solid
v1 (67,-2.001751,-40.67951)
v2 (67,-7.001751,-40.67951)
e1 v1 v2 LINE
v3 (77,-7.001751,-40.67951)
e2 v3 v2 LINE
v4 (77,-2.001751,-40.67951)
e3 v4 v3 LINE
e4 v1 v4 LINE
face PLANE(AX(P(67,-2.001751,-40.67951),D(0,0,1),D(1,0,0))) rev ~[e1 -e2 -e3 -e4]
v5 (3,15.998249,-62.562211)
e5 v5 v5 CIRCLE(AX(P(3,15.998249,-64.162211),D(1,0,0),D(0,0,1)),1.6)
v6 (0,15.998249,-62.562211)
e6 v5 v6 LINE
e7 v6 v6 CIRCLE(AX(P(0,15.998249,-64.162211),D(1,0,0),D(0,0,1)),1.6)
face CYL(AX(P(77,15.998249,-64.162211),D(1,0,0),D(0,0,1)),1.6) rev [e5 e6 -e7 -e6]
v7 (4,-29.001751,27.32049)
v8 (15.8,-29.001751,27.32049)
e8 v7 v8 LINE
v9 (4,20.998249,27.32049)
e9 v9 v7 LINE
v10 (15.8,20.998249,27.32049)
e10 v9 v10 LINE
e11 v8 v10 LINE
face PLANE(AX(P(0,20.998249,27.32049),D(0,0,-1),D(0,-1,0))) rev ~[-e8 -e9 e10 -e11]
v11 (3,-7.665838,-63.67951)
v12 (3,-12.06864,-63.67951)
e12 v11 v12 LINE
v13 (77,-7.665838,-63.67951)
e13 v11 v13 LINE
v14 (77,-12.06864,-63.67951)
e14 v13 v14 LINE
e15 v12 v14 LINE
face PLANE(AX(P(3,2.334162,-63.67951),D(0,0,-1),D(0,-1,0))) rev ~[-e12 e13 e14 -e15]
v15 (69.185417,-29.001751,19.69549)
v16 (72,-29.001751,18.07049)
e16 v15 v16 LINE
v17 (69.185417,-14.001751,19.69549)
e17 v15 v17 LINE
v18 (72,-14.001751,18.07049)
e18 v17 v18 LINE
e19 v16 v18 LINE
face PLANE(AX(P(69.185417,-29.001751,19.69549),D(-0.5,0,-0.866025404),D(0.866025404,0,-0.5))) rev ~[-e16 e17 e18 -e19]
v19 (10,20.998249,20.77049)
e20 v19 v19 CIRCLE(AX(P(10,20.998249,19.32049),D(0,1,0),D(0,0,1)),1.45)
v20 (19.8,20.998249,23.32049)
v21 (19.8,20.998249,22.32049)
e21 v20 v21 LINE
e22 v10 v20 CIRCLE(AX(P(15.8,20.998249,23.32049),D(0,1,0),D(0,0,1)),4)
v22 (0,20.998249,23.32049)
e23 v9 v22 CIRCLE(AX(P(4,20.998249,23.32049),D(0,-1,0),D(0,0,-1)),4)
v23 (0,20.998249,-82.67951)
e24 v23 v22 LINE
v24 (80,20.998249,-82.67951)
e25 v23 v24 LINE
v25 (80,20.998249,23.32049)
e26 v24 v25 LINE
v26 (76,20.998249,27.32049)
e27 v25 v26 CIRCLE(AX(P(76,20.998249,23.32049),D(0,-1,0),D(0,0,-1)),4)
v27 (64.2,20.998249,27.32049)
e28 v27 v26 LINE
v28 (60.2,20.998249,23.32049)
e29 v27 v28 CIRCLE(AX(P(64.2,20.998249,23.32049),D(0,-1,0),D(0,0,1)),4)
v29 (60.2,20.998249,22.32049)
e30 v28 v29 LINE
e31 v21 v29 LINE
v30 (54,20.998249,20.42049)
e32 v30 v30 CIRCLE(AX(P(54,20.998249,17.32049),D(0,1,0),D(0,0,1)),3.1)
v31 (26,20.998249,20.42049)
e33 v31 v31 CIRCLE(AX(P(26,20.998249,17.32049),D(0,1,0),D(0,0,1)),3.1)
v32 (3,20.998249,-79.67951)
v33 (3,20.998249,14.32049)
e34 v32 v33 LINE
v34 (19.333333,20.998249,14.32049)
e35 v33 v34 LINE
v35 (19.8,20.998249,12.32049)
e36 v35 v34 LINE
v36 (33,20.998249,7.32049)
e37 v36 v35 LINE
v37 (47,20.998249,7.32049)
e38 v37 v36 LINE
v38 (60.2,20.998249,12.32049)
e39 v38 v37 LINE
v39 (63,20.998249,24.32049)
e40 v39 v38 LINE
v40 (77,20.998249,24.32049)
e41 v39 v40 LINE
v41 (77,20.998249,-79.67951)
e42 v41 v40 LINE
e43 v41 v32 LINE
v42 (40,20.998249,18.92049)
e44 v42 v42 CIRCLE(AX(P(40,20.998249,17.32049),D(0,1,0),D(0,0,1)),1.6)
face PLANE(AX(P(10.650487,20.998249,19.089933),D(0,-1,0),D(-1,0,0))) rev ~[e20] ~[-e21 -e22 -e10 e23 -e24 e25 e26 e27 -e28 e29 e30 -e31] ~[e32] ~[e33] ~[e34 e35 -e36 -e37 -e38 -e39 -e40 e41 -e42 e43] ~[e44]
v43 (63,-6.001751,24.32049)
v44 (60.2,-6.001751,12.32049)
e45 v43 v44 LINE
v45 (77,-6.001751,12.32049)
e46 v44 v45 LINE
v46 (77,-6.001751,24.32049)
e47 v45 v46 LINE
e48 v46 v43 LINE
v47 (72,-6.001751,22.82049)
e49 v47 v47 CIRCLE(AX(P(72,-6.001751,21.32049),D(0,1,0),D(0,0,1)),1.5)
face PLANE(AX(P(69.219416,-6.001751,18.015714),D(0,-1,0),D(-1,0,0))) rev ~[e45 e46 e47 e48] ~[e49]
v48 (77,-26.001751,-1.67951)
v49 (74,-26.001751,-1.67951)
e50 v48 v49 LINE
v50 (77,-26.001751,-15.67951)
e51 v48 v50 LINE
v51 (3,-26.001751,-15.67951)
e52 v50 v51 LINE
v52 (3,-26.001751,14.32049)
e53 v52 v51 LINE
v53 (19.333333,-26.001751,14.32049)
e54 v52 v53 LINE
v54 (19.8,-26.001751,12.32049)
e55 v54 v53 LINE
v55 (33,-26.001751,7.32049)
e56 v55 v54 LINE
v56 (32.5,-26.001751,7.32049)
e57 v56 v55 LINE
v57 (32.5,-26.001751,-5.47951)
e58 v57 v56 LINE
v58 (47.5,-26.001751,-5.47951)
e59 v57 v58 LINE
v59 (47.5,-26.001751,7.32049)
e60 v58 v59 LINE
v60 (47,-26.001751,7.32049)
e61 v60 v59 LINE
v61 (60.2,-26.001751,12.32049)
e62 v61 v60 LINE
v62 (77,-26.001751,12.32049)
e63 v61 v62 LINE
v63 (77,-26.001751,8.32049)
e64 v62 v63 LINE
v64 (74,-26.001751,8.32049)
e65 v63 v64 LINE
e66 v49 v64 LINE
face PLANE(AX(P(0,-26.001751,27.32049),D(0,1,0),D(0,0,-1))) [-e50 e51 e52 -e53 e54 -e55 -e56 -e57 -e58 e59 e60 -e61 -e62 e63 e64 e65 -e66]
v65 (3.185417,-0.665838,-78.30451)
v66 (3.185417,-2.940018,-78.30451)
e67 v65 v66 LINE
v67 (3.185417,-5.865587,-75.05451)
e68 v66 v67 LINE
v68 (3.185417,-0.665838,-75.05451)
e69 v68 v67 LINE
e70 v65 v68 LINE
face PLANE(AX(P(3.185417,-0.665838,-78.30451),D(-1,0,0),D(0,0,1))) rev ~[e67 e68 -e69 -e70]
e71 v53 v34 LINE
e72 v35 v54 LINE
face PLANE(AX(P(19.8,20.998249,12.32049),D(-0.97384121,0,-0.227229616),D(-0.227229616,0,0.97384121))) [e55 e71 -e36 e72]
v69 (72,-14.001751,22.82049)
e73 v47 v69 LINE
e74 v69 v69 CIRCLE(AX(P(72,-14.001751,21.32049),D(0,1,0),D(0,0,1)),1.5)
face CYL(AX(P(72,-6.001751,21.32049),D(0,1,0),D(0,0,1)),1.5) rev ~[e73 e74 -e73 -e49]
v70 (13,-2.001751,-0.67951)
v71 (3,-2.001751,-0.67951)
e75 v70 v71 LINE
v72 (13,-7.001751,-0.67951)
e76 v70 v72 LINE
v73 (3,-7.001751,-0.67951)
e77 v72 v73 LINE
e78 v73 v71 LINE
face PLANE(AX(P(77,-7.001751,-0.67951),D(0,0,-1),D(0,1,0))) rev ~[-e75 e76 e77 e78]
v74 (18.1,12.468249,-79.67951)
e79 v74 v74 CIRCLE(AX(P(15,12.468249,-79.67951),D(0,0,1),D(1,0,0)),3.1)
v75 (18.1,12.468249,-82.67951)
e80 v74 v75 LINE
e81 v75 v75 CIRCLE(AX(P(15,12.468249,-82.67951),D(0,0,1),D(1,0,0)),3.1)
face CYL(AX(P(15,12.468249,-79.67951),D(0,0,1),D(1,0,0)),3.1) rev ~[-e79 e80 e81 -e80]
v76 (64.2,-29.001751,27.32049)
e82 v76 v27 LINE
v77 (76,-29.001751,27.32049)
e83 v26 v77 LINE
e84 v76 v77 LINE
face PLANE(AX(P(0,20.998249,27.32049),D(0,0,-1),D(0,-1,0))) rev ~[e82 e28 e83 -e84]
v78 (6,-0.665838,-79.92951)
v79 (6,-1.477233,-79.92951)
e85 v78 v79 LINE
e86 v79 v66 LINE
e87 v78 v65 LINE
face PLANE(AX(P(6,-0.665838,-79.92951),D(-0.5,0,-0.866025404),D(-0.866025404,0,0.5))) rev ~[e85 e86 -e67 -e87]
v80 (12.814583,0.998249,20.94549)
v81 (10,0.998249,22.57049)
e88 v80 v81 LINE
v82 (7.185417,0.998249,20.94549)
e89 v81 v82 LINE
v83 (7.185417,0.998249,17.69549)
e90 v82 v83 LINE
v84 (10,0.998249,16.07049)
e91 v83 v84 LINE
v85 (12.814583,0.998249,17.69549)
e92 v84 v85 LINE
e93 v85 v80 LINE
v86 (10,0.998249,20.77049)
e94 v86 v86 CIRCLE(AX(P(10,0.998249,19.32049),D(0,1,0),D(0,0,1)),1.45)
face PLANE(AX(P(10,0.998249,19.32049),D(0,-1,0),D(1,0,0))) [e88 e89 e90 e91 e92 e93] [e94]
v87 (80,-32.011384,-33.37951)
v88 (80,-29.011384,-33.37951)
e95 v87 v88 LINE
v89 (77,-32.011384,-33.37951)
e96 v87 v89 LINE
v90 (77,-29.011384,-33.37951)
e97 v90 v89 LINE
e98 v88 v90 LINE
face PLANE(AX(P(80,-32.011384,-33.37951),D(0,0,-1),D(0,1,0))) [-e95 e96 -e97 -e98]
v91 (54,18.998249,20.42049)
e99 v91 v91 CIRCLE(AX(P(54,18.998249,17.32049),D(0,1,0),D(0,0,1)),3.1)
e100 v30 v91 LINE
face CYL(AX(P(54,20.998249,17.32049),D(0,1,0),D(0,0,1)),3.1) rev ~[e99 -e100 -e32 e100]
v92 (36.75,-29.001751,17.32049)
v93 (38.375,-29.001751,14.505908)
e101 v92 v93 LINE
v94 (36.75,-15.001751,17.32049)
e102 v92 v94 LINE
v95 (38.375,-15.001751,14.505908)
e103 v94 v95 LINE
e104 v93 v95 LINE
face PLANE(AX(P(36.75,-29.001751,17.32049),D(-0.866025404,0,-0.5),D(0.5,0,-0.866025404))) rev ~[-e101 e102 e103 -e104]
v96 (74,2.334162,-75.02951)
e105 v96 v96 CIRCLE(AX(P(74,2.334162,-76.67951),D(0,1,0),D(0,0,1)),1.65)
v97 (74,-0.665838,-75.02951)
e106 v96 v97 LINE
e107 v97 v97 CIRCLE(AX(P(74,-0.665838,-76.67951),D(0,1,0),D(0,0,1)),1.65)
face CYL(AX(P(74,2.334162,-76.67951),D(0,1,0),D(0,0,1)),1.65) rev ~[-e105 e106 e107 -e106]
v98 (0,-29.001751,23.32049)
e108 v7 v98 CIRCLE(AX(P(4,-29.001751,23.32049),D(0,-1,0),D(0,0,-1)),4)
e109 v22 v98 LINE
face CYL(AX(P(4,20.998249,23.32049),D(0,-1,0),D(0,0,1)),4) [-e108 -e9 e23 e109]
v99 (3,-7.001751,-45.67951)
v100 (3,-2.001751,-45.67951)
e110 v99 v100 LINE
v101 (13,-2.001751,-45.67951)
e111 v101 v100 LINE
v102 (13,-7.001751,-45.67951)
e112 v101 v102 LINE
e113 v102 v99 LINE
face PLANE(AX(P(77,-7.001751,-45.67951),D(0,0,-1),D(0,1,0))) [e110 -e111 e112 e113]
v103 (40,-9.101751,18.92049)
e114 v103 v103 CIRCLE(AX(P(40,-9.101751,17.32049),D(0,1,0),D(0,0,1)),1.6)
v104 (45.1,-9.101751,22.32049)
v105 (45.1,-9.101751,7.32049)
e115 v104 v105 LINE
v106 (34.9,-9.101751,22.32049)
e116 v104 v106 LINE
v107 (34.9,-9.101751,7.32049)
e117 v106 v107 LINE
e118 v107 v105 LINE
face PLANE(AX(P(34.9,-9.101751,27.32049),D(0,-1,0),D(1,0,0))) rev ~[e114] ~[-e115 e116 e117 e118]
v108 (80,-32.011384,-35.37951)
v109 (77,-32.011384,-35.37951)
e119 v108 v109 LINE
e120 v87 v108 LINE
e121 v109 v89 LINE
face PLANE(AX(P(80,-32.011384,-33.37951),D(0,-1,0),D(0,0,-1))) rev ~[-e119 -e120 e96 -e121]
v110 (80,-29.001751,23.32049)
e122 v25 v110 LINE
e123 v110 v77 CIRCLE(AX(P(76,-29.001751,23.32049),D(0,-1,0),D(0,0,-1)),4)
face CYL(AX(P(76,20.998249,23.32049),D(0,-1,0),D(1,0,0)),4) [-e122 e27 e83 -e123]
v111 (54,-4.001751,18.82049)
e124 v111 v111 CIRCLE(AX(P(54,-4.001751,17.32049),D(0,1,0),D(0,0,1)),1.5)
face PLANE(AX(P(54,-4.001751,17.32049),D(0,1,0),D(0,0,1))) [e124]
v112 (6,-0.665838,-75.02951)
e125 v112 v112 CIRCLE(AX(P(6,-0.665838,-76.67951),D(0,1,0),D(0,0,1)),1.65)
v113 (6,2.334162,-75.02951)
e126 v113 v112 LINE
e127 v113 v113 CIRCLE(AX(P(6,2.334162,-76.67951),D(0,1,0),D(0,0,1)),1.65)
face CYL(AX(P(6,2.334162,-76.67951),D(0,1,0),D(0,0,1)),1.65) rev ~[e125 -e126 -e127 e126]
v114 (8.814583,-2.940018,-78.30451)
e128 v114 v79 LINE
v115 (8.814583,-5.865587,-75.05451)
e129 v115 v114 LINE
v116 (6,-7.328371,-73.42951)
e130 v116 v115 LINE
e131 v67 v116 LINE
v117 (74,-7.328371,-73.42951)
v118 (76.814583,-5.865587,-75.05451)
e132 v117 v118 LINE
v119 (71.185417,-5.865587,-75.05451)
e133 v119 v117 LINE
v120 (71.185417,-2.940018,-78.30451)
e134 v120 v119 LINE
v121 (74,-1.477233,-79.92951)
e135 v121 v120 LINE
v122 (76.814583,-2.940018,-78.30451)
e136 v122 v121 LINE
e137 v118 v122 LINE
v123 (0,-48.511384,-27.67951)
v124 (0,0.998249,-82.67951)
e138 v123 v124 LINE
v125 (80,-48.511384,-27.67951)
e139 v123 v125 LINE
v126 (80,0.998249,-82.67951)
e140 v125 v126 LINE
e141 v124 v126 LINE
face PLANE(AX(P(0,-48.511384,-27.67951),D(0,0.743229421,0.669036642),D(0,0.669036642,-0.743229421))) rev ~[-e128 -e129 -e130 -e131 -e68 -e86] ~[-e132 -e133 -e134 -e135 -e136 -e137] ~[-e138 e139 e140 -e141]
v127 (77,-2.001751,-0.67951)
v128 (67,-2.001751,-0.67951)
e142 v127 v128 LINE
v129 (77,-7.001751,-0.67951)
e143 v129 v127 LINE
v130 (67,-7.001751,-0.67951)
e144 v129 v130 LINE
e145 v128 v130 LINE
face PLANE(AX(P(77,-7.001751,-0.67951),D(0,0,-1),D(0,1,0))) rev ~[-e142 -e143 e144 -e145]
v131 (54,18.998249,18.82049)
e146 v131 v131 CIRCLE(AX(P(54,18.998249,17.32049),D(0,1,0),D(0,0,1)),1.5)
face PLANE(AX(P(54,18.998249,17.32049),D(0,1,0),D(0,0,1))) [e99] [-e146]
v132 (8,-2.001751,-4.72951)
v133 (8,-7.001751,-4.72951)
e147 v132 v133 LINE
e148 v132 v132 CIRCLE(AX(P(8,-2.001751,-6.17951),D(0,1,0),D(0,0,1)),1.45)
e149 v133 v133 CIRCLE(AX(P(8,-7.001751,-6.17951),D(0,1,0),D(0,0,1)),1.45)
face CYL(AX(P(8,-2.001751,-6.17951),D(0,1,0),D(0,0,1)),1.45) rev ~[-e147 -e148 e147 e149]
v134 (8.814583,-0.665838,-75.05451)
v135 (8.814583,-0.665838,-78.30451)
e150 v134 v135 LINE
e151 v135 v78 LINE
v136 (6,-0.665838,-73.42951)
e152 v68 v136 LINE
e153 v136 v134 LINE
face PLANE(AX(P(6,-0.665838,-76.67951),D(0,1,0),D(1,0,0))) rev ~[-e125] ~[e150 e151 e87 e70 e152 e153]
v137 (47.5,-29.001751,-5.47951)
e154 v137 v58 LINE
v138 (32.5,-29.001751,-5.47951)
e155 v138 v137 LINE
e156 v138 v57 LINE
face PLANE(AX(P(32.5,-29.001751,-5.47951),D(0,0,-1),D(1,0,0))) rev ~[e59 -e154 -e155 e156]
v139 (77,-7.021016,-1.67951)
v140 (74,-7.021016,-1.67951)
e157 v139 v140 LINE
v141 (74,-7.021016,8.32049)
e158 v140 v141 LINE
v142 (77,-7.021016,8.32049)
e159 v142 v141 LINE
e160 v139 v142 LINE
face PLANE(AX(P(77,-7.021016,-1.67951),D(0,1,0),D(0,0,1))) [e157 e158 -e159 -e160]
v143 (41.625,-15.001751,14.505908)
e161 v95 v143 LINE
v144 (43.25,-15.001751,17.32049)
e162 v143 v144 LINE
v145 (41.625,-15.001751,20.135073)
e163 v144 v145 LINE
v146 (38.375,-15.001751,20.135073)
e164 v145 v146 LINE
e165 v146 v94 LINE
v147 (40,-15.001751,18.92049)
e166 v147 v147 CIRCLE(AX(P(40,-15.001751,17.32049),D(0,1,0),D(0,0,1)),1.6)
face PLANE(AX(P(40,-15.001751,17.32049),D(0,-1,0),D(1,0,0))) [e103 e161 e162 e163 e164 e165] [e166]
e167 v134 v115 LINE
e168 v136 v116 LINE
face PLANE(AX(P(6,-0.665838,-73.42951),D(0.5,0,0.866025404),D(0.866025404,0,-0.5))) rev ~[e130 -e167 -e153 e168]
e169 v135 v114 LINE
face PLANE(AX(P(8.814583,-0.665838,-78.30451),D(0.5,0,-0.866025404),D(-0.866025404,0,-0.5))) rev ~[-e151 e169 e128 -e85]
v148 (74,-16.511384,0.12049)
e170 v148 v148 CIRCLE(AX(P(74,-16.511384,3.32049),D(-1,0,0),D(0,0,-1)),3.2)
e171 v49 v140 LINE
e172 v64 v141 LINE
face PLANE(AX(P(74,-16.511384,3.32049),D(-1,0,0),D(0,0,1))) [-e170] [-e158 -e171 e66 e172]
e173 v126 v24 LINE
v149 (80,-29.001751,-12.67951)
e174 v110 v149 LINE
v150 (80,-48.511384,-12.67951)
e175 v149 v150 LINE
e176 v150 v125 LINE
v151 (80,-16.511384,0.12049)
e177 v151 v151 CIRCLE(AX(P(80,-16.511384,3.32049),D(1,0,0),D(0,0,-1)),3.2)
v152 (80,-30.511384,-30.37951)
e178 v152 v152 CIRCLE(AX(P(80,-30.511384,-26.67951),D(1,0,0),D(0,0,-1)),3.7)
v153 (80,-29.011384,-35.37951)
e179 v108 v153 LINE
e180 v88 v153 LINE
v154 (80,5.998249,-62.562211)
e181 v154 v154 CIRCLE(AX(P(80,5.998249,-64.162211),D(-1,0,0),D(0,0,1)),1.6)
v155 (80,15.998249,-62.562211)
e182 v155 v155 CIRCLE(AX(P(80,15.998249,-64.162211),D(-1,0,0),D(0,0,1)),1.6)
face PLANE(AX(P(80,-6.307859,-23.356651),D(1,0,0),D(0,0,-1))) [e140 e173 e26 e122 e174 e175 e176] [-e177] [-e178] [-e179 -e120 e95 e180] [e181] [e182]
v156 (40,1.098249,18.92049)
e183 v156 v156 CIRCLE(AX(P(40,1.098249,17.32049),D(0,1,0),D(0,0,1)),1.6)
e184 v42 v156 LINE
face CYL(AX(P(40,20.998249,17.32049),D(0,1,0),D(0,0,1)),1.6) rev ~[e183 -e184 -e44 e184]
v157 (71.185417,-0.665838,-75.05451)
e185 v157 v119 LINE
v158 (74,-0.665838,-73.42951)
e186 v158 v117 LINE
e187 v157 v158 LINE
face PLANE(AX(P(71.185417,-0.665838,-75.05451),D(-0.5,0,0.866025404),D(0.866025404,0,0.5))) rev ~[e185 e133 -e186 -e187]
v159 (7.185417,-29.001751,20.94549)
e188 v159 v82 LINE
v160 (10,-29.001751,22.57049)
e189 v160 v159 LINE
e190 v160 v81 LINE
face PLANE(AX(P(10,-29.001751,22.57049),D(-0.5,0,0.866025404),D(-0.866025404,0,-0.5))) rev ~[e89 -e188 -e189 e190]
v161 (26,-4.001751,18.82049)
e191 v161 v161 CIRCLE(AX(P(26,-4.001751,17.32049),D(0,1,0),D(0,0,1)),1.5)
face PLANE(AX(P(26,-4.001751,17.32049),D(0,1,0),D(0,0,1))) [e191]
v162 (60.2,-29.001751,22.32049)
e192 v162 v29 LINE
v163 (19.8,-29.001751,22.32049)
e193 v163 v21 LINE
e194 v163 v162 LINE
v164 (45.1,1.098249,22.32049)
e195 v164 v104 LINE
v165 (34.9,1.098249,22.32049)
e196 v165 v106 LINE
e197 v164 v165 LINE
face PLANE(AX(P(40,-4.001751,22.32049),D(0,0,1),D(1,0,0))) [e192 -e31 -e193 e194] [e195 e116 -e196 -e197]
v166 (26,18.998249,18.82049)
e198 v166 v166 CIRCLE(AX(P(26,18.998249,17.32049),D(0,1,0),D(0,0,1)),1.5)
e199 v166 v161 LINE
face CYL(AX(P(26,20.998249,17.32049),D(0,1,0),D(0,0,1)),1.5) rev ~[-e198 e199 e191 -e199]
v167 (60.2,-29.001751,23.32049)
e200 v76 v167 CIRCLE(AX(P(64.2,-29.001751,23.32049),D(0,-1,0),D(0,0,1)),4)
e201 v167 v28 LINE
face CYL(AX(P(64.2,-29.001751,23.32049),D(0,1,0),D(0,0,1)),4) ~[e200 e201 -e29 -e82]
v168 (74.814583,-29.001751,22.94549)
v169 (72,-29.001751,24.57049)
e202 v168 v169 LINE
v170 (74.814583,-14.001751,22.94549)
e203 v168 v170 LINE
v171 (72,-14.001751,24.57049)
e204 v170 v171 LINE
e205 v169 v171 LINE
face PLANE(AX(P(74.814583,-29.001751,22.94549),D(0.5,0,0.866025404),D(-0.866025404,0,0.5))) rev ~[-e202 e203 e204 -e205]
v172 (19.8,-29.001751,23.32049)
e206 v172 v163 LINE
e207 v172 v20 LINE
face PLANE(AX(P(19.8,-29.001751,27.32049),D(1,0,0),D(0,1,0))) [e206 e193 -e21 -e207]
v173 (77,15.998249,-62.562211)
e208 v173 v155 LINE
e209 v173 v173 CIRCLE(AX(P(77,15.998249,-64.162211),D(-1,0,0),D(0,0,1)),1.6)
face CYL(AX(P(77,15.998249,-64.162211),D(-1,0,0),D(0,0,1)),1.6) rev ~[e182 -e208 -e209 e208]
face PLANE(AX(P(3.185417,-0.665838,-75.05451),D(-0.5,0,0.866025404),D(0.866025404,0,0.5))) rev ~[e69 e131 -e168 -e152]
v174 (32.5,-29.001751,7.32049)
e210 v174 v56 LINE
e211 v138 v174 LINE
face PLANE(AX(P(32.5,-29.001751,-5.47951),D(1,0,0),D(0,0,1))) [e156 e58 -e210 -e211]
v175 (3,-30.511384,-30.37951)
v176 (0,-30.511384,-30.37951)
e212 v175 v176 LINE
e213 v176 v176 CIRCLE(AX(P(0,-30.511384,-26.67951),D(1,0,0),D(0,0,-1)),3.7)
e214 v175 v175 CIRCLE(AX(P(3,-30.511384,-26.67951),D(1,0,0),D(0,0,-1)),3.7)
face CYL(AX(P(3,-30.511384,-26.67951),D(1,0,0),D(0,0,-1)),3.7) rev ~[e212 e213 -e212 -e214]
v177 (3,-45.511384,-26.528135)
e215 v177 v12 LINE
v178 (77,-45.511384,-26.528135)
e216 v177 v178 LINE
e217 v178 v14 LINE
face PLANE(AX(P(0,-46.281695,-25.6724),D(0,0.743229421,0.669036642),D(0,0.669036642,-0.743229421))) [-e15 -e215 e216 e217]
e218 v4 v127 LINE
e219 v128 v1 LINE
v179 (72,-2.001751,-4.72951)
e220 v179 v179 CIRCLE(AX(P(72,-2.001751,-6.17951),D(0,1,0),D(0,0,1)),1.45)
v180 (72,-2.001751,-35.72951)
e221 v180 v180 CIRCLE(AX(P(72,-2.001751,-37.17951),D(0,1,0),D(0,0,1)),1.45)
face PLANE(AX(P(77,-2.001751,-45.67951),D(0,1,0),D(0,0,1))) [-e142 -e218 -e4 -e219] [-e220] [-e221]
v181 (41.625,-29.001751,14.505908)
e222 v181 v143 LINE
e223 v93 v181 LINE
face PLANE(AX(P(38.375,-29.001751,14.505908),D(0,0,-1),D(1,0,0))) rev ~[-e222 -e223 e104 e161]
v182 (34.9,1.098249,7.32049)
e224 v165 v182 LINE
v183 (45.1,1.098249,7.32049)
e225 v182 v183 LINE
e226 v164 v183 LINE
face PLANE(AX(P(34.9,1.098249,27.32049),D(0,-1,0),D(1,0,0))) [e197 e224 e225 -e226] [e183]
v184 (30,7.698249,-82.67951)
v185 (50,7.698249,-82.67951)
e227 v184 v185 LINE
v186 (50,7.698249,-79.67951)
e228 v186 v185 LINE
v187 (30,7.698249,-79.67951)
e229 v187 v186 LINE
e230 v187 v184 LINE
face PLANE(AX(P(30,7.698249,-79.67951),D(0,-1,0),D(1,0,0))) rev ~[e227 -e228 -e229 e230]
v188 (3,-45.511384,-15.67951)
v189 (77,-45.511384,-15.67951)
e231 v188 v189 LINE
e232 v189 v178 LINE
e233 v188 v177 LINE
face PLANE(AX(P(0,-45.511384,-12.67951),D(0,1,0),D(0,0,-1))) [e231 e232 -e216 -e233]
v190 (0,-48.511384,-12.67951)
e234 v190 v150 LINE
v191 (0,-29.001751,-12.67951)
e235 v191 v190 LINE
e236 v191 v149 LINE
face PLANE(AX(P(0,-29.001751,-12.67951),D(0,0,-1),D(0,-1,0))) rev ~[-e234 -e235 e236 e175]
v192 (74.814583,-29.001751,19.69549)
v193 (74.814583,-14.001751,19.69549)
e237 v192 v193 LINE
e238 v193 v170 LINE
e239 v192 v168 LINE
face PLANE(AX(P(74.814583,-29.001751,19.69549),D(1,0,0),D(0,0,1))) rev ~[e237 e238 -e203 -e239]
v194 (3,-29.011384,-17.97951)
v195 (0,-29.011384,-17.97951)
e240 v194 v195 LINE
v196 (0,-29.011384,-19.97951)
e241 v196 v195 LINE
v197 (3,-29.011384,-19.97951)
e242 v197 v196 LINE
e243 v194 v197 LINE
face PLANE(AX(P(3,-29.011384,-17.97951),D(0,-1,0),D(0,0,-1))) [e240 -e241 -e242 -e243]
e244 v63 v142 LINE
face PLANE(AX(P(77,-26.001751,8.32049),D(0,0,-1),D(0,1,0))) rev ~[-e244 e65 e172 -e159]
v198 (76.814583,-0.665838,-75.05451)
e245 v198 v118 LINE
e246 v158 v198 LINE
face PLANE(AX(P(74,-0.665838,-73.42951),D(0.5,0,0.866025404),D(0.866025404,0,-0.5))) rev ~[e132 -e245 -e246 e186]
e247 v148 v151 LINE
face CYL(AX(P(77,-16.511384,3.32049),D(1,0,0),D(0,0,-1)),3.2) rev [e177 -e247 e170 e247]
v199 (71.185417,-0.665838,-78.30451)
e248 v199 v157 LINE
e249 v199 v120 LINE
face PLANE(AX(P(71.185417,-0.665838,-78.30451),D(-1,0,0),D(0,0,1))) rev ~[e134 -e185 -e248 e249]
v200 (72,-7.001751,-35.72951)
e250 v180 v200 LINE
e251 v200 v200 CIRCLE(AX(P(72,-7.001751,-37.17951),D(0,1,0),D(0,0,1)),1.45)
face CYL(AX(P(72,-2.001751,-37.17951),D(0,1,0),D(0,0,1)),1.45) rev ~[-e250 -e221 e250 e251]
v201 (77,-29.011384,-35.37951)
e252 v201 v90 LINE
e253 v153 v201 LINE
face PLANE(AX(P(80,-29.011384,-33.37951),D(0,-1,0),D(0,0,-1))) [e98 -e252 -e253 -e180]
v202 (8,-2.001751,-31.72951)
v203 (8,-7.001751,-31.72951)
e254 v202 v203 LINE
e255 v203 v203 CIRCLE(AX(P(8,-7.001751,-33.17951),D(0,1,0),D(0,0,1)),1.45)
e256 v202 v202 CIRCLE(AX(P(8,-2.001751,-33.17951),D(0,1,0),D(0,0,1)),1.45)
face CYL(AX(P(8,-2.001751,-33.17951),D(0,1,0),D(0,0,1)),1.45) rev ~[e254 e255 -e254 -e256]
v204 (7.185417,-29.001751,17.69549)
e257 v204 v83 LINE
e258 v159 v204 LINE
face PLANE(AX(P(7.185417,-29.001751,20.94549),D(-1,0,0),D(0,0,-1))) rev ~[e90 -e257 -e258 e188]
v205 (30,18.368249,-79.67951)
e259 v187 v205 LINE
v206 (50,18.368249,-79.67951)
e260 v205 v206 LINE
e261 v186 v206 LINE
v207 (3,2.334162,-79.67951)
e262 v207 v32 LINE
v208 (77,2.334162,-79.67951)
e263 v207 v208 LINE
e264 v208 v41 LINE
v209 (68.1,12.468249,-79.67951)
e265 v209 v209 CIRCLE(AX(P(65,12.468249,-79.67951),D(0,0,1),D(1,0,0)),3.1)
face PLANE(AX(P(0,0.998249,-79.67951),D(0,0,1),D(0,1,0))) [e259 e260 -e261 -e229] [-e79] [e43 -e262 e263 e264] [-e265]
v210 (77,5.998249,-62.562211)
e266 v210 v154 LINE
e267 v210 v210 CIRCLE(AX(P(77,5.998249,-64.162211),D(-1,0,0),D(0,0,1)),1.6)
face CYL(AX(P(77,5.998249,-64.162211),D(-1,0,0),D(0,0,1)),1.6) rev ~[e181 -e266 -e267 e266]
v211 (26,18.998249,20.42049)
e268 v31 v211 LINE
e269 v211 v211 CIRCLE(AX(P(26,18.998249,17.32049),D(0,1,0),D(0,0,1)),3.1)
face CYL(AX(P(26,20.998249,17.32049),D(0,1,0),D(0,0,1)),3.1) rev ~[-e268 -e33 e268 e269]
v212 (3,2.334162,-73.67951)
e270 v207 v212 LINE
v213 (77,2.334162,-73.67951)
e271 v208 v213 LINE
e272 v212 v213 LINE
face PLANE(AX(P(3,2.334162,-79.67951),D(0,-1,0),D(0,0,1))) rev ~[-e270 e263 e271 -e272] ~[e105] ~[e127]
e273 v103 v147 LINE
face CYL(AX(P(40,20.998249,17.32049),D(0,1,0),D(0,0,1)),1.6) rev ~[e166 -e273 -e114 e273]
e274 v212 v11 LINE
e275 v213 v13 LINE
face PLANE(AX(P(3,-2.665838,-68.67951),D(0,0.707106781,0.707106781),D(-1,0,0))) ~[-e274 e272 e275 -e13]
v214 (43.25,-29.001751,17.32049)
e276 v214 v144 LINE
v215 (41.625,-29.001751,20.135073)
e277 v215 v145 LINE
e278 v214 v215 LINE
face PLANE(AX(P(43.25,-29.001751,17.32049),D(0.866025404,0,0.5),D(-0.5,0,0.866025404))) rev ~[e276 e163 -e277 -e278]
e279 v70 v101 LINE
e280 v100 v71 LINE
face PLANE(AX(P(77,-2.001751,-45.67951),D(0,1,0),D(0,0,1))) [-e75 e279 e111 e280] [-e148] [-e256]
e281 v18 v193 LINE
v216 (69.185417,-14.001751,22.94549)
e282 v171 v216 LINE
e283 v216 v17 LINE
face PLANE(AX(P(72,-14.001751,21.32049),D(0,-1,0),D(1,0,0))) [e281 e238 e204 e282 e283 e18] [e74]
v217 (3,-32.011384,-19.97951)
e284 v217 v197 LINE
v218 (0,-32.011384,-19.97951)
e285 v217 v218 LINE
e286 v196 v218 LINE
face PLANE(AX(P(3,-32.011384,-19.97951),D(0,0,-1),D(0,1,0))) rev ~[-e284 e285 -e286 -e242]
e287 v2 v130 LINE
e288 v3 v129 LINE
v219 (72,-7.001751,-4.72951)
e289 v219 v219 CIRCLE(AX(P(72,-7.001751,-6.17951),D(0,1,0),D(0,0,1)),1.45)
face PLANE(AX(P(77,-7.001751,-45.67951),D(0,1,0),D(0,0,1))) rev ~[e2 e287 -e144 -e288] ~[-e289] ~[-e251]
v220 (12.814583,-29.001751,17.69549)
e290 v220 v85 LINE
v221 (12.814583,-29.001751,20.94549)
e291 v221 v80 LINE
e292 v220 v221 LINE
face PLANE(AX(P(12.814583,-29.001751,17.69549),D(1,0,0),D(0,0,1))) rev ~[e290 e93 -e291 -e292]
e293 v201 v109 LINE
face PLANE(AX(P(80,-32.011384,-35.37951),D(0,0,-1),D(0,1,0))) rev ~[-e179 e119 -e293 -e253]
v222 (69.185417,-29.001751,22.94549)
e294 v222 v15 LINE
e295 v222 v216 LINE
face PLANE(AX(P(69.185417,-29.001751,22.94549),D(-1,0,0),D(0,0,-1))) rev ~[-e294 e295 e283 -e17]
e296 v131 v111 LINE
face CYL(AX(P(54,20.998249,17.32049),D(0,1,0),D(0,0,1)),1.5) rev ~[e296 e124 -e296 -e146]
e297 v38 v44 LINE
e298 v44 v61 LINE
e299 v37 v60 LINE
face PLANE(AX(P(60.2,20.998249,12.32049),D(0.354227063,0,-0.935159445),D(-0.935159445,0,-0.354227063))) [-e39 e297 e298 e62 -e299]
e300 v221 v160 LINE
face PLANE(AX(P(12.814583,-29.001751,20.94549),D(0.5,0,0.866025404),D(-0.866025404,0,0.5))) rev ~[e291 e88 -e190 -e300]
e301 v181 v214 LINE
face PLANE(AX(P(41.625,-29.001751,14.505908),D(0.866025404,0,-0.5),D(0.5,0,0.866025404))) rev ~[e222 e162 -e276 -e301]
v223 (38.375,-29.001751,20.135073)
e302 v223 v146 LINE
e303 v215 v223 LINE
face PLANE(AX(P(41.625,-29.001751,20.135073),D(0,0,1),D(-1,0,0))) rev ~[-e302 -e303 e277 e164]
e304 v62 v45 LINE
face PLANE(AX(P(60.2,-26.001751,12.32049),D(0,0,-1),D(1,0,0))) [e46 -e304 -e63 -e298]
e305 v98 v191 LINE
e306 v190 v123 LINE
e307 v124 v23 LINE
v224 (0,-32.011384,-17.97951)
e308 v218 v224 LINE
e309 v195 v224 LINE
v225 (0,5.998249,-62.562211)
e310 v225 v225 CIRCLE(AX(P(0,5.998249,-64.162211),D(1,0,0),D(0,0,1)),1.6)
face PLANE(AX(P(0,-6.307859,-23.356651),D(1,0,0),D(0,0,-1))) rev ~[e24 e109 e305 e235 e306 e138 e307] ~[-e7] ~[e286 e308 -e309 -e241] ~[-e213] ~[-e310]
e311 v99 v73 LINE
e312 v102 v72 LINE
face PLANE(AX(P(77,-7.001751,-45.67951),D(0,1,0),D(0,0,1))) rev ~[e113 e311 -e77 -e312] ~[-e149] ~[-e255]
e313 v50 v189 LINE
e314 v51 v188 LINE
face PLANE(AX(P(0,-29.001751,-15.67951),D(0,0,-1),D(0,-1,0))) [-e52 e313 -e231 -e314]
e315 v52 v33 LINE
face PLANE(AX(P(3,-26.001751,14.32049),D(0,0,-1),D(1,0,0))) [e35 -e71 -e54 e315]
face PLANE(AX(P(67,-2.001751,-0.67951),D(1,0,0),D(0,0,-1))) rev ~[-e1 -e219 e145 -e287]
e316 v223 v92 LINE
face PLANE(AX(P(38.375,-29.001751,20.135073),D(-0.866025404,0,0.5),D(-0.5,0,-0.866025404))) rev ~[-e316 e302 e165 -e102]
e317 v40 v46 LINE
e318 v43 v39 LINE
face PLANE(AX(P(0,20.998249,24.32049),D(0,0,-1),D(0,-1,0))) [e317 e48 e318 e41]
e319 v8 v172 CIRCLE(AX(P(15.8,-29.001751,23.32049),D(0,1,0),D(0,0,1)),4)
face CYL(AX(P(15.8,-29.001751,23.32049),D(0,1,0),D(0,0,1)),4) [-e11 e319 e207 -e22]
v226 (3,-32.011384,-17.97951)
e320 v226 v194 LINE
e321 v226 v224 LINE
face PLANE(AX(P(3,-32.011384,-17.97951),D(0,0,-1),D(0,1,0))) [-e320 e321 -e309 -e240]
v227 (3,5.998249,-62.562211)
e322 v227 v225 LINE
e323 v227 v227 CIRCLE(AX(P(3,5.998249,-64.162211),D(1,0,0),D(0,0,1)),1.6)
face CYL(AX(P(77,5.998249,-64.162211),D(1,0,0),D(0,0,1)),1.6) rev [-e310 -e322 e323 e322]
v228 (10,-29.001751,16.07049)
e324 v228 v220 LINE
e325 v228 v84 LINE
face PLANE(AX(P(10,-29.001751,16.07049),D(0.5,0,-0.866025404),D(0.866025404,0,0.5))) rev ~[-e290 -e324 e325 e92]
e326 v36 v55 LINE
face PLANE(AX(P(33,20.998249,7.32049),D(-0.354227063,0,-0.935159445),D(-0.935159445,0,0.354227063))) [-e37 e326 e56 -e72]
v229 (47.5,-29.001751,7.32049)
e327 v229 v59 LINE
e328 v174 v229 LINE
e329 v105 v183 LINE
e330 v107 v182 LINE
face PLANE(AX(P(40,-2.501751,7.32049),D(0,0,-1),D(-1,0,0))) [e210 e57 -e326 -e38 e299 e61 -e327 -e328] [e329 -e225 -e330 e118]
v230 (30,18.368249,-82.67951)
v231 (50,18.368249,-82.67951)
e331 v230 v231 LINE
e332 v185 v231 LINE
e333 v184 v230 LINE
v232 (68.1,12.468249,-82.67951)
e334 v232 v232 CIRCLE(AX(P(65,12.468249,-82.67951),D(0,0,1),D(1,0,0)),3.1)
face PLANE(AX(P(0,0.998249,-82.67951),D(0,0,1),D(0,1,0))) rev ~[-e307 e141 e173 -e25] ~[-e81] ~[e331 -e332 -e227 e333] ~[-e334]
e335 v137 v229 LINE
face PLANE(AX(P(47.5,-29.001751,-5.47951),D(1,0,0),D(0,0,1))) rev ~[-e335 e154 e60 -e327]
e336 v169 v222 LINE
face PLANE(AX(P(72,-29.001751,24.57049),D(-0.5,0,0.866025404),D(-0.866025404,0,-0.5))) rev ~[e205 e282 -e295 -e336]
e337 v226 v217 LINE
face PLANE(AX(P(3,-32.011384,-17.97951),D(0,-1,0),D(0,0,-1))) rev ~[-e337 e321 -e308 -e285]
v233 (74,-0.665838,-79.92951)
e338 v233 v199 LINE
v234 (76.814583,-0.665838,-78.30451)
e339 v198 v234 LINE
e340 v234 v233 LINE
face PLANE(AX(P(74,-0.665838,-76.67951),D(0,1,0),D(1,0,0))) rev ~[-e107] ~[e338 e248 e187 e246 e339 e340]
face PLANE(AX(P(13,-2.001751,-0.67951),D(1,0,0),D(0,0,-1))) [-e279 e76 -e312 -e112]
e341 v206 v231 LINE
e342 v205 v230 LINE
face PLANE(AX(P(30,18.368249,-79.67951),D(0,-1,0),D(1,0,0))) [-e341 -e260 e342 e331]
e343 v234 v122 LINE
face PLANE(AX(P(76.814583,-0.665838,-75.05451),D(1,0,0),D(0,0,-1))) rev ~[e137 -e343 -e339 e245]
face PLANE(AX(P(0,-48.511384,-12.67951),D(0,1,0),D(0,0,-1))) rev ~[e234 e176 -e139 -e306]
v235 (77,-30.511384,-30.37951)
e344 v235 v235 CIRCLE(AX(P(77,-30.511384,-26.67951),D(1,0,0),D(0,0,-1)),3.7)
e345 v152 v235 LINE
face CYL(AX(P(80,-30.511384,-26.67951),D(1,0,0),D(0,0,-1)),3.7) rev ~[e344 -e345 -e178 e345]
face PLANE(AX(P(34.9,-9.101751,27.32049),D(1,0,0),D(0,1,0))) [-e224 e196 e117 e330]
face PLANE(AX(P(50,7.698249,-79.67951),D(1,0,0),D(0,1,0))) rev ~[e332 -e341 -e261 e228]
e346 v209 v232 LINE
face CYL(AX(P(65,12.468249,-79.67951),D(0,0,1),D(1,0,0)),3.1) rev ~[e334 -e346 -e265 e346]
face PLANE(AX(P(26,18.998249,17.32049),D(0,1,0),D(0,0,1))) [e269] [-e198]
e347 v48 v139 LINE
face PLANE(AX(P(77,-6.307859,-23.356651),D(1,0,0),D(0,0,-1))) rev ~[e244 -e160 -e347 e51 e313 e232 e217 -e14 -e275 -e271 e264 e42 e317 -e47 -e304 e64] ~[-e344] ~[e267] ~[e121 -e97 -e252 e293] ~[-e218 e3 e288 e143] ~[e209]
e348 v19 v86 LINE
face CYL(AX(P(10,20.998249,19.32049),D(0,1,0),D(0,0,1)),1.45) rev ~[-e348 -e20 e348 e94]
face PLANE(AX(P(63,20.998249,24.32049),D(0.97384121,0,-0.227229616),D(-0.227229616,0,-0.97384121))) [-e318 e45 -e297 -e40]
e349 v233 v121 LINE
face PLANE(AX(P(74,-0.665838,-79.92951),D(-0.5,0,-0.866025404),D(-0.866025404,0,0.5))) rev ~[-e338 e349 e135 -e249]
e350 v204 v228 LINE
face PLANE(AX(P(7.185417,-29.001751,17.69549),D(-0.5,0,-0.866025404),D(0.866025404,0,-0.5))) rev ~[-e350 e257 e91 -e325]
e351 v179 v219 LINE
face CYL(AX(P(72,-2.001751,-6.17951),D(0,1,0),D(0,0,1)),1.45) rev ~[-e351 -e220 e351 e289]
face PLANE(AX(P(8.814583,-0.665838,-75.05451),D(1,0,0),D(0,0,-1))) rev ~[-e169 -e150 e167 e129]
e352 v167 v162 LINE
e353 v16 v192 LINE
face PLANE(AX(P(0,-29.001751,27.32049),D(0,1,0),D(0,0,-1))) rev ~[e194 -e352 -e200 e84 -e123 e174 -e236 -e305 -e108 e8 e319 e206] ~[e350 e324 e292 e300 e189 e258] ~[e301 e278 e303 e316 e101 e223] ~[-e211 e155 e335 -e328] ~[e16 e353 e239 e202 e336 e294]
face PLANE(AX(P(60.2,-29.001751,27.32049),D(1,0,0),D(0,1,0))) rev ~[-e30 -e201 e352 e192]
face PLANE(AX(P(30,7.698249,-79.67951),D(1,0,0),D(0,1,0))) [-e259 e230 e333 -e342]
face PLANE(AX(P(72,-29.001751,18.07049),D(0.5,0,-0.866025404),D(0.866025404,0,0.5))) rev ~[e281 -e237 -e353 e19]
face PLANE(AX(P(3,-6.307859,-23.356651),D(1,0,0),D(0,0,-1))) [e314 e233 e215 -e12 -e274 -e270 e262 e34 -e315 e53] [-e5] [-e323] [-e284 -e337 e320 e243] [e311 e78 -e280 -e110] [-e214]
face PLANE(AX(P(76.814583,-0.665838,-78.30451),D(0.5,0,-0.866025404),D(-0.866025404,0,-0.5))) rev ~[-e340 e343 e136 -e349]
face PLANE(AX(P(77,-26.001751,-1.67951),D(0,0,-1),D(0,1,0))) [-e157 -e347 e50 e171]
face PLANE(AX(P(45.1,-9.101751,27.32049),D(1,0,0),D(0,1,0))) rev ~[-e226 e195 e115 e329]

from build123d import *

# Parameters (mm, degrees)
BOSS_EXTRUDE1_DEPTH      = 80
SHELL1_T                 = -3
SKETCH3_W                = 46
SKETCH3_H                = 47
BOSS_EXTRUDE2_DEPTH      = 17
SKETCH4_W                = 10.2
SKETCH4_H                = 10.2
CUT_EXTRUDE1_DEPTH       = 20
SKETCH6_W                = 15
SKETCH6_H                = 12.8
CUT_EXTRUDE2_DEPTH       = 3
SKETCH7_W                = 40.4
SKETCH7_H                = 50
CUT_EXTRUDE3_DEPTH       = 5
FILLET1_R                = 4
CUT_EXTRUDE7_DEPTH       = 47
SKETCH13_R               = 1.5
CUT_EXTRUDE8_DEPTH       = 25
SKETCH14_R               = 3.1
CUT_EXTRUDE9_DEPTH       = 2
SKETCH17_W               = 45
SKETCH17_H               = 5
BOSS_EXTRUDE5_DEPTH      = 74
CUT_EXTRUDE10_REACH      = 126.093
SKETCH18_W               = 54
SKETCH18_H               = 45
CUT_EXTRUDE11_REACH      = 126.093
SKETCH19_R               = 1.45
BOSS_EXTRUDE6_DEPTH      = 47
SKETCH22_R               = 1.45
CUT_EXTRUDE12_DEPTH      = 135.415364765
CUT_EXTRUDE13_REACH      = 126.857
SKETCH24_R               = 3.7
SKETCH24_W               = 2
SKETCH24_H               = 3
BOSS_EXTRUDE7_DEPTH      = 74
SKETCH27_R               = 1.65
CUT_EXTRUDE14_DEPTH      = 10
CUT_EXTRUDE15_START      = -3
CUT_EXTRUDE15_DEPTH      = 32
CUT_EXTRUDE16_DEPTH      = 30
BOSS_EXTRUDE8_DEPTH      = 20
SKETCH31_R               = 1.5
CUT_EXTRUDE17_DEPTH      = 123.649786567
CUT_EXTRUDE18_DEPTH      = 15
CUT_EXTRUDE19_REACH      = 126.093
SKETCH33_W               = 10
SKETCH33_H               = 5
SKETCH34_R               = 1.6
CUT_EXTRUDE20_DEPTH      = 135.415364765
CUT_EXTRUDE22_DEPTH      = 14
CUT_EXTRUDE23_REACH      = 126.857
SKETCH37_R               = 3.2
SKETCH38_W               = 10
SKETCH38_H               = 18.980735551
SKETCH38_R               = 3.2
BOSS_EXTRUDE9_DEPTH      = 3
CUT_EXTRUDE24_REACH      = 124.956
SKETCH40_R               = 3.7
SKETCH40_W               = 2
SKETCH40_H               = 3
SKETCH41_R               = 1.6
CUT_EXTRUDE25_DEPTH      = 123.956316006
CUT_EXTRUDE25_DEPTH_BACK = 123.956316006
SKETCH43_W               = 20
SKETCH43_H               = 10.67
CUT_EXTRUDE26_DEPTH      = 3
CHAMFER1_SIZE            = 10
SKETCH44_R               = 3.1
CUT_EXTRUDE27_DEPTH      = 143.134986308


with BuildPart() as part:
    # Sketch2 → Boss-Extrude1 (new body)
    with BuildSketch(Plane(origin=(0, 0, 0), x_dir=(0, 0, -1), z_dir=(1, 0, 0))):
        Polygon((-27.320490368, 20.998248687), (-27.320490368, -29.001751313), (12.679509632, -29.001751313), (12.679509632, -48.511383538), (27.679509632, -48.511383538), (82.679509632, 0.998248687), (82.679509632, 20.998248687), align=None)
    extrude(amount=BOSS_EXTRUDE1_DEPTH)

    # Shell1
    shell1_openings = [part.faces().sort_by_distance(p)[0] for p in [
        (40, 20.998248687, -27.679509632),
    ]]
    offset(amount=SHELL1_T, openings=shell1_openings, kind=Kind.INTERSECTION)

    # Sketch3 → Boss-Extrude2 (add)
    with BuildSketch(Plane(origin=(0, 0, 24.320490368), x_dir=(-1, 0, 0), z_dir=(0, 0, -1))):
        with Locations((-40, -2.501751313)):
            Rectangle(SKETCH3_W, SKETCH3_H)
    extrude(amount=BOSS_EXTRUDE2_DEPTH)

    # Sketch4 → Cut-Extrude1 (cut)
    with BuildSketch(Plane.XY.offset(27.320490368)):
        with Locations((40, -4.001751313)):
            Rectangle(SKETCH4_W, SKETCH4_H)
    extrude(amount=-CUT_EXTRUDE1_DEPTH, mode=Mode.SUBTRACT)

    # Sketch6 → Cut-Extrude2 (cut)
    with BuildSketch(Plane.XZ.offset(29.001751313)):
        with Locations((40, 0.920490368)):
            Rectangle(SKETCH6_W, SKETCH6_H)
    extrude(amount=-CUT_EXTRUDE2_DEPTH, mode=Mode.SUBTRACT)

    # Sketch7 → Cut-Extrude3 (cut)
    with BuildSketch(Plane.XY.offset(27.320490368)):
        with Locations((40, -4.001751313)):
            Rectangle(SKETCH7_W, SKETCH7_H)
    extrude(amount=-CUT_EXTRUDE3_DEPTH, mode=Mode.SUBTRACT)

    # Fillet1
    fillet1_edges = [part.edges().sort_by_distance(p)[0] for p in [
        (80, -4.001751313, 27.320490368),
        (19.8, -4.001751313, 27.320490368),
        (0, -4.001751313, 27.320490368),
        (60.2, -4.001751313, 27.320490368),
    ]]
    fillet(fillet1_edges, radius=FILLET1_R)

    # Sketch12 → Cut-Extrude7 (cut)
    with BuildSketch(Plane(origin=(0, 20.998248687, 0), x_dir=(1, 0, 0), z_dir=(0, 1, 0))):
        Polygon((33, -7.320490368), (19.8, -12.320490368), (17, -24.320490368), (17, -7.320490368), align=None)
        Polygon((47, -7.320490368), (63, -7.320490368), (63, -24.320490368), (60.2, -12.320490368), align=None)
    extrude(amount=-CUT_EXTRUDE7_DEPTH, mode=Mode.SUBTRACT)

    # Sketch13 → Cut-Extrude8 (cut)
    with BuildSketch(Plane(origin=(0, 20.998248687, 0), x_dir=(1, 0, 0), z_dir=(0, 1, 0))):
        with Locations(Location((26, -17.320490368, 0), (0, 0, 270))):
            Circle(SKETCH13_R)
        with Locations(Location((54, -17.320490368, 0), (0, 0, 270))):
            Circle(SKETCH13_R)
    extrude(amount=-CUT_EXTRUDE8_DEPTH, mode=Mode.SUBTRACT)

    # Sketch14 → Cut-Extrude9 (cut)
    with BuildSketch(Plane(origin=(0, 20.998248687, 0), x_dir=(1, 0, 0), z_dir=(0, 1, 0))):
        with Locations(Location((26, -17.320490368, 0), (0, 0, 270))):
            Circle(SKETCH14_R)
        with Locations(Location((54, -17.320490368, 0), (0, 0, 270))):
            Circle(SKETCH14_R)
    extrude(amount=-CUT_EXTRUDE9_DEPTH, mode=Mode.SUBTRACT)

    # Sketch17 → Boss-Extrude5 (add)
    with BuildSketch(Plane.ZY.offset(-77)):
        with Locations((-23.179509632, -4.501751313)):
            Rectangle(SKETCH17_W, SKETCH17_H)
    extrude(amount=BOSS_EXTRUDE5_DEPTH)

    # Sketch18 → Cut-Extrude10 (cut, up to next)
    with BuildSketch(Plane(origin=(0, -2.001751313, 0), x_dir=(1, 0, 0), z_dir=(0, 1, 0)), mode=Mode.PRIVATE) as cut_extrude10_sk1:
        with Locations((40, 23.179509632)):
            Rectangle(SKETCH18_W, SKETCH18_H)
    cut_extrude10_tool1 = extrude(cut_extrude10_sk1.sketch, amount=-CUT_EXTRUDE10_REACH, mode=Mode.PRIVATE) & part.part
    add(cut_extrude10_tool1.solids().sort_by_distance((40, -2.001751, -23.17951))[0], mode=Mode.SUBTRACT)

    # Sketch19 → Cut-Extrude11 (cut, up to next)
    with BuildSketch(Plane(origin=(0, -2.001751313, 0), x_dir=(1, 0, 0), z_dir=(0, 1, 0)), mode=Mode.PRIVATE) as cut_extrude11_sk1:
        with Locations(Location((72, 37.179509632, 0), (0, 0, 270))):
            Circle(SKETCH19_R)
    cut_extrude11_tool1 = extrude(cut_extrude11_sk1.sketch, amount=-CUT_EXTRUDE11_REACH, mode=Mode.PRIVATE) & part.part
    # Sketch19 → Cut-Extrude11 (cut, up to next)
    with BuildSketch(Plane(origin=(0, -2.001751313, 0), x_dir=(1, 0, 0), z_dir=(0, 1, 0)), mode=Mode.PRIVATE) as cut_extrude11_sk2:
        with Locations(Location((72, 6.179509632, 0), (0, 0, 270))):
            Circle(SKETCH19_R)
    cut_extrude11_tool2 = extrude(cut_extrude11_sk2.sketch, amount=-CUT_EXTRUDE11_REACH, mode=Mode.PRIVATE) & part.part
    # Sketch19 → Cut-Extrude11 (cut, up to next)
    with BuildSketch(Plane(origin=(0, -2.001751313, 0), x_dir=(1, 0, 0), z_dir=(0, 1, 0)), mode=Mode.PRIVATE) as cut_extrude11_sk3:
        with Locations(Location((8, 33.179509632, 0), (0, 0, 270))):
            Circle(SKETCH19_R)
    cut_extrude11_tool3 = extrude(cut_extrude11_sk3.sketch, amount=-CUT_EXTRUDE11_REACH, mode=Mode.PRIVATE) & part.part
    # Sketch19 → Cut-Extrude11 (cut, up to next)
    with BuildSketch(Plane(origin=(0, -2.001751313, 0), x_dir=(1, 0, 0), z_dir=(0, 1, 0)), mode=Mode.PRIVATE) as cut_extrude11_sk4:
        with Locations(Location((8, 6.179509632, 0), (0, 0, 270))):
            Circle(SKETCH19_R)
    cut_extrude11_tool4 = extrude(cut_extrude11_sk4.sketch, amount=-CUT_EXTRUDE11_REACH, mode=Mode.PRIVATE) & part.part
    add(cut_extrude11_tool1.solids().sort_by_distance((72, -2.001751, -37.17951))[0], mode=Mode.SUBTRACT)
    add(cut_extrude11_tool2.solids().sort_by_distance((72, -2.001751, -6.17951))[0], mode=Mode.SUBTRACT)
    add(cut_extrude11_tool3.solids().sort_by_distance((8, -2.001751, -33.17951))[0], mode=Mode.SUBTRACT)
    add(cut_extrude11_tool4.solids().sort_by_distance((8, -2.001751, -6.17951))[0], mode=Mode.SUBTRACT)

    # Sketch21 → Boss-Extrude6 (add)
    with BuildSketch(Plane(origin=(0, -26.001751313, 0), x_dir=(1, 0, 0), z_dir=(0, 1, 0))):
        Polygon((3, -24.320490368), (3, -14.320490368), (19.333333333, -14.320490368), (17, -24.320490368), align=None)
    extrude(amount=BOSS_EXTRUDE6_DEPTH)

    # Sketch22 → Cut-Extrude12 (cut, through all)
    with BuildSketch(Plane(origin=(0, 20.998248687, 0), x_dir=(1, 0, 0), z_dir=(0, 1, 0))):
        with Locations(Location((10, -19.320490368, 0), (0, 0, 270))):
            Circle(SKETCH22_R)
    extrude(amount=-CUT_EXTRUDE12_DEPTH, mode=Mode.SUBTRACT)

    # Sketch24 → Cut-Extrude13 (cut, up to next)
    with BuildSketch(Plane(origin=(80, 0, 0), x_dir=(0, 0, -1), z_dir=(1, 0, 0)), mode=Mode.PRIVATE) as cut_extrude13_sk1:
        with Locations((26.679509632, -30.511383538)):
            Circle(SKETCH24_R)
    cut_extrude13_tool1 = extrude(cut_extrude13_sk1.sketch, amount=-CUT_EXTRUDE13_REACH, mode=Mode.PRIVATE) & part.part
    # Sketch24 → Cut-Extrude13 (cut, up to next)
    with BuildSketch(Plane(origin=(80, 0, 0), x_dir=(0, 0, -1), z_dir=(1, 0, 0)), mode=Mode.PRIVATE) as cut_extrude13_sk2:
        with Locations((34.379509632, -30.511383538)):
            Rectangle(SKETCH24_W, SKETCH24_H)
    cut_extrude13_tool2 = extrude(cut_extrude13_sk2.sketch, amount=-CUT_EXTRUDE13_REACH, mode=Mode.PRIVATE) & part.part
    add(cut_extrude13_tool1.solids().sort_by_distance((80, -30.511384, -26.67951))[0], mode=Mode.SUBTRACT)
    add(cut_extrude13_tool2.solids().sort_by_distance((80, -30.511384, -34.37951))[0], mode=Mode.SUBTRACT)

    # Sketch26 → Boss-Extrude7 (add)
    with BuildSketch(Plane(origin=(3, 0, 0), x_dir=(0, 0, -1), z_dir=(1, 0, 0))):
        Polygon((79.679509632, 2.334161996), (63.679509632, 2.334161996), (63.679509632, -12.068640106), align=None)
    extrude(amount=BOSS_EXTRUDE7_DEPTH)

    # Sketch27 → Cut-Extrude14 (cut)
    with BuildSketch(Plane(origin=(0, 2.334161996, 0), x_dir=(1, 0, 0), z_dir=(0, 1, 0))):
        with Locations(Location((6, 76.679509632, 0), (0, 0, 270))):
            Circle(SKETCH27_R)
        with Locations(Location((74, 76.679509632, 0), (0, 0, 270))):
            Circle(SKETCH27_R)
    extrude(amount=-CUT_EXTRUDE14_DEPTH, mode=Mode.SUBTRACT)

    # Sketch28 → Cut-Extrude15 (cut)
    with BuildSketch(Plane(origin=(0, 2.334161996, 0), x_dir=(1, 0, 0), z_dir=(0, 1, 0)).offset(CUT_EXTRUDE15_START)):
        Polygon((74, 79.929509632), (71.185417438, 78.304509632), (71.185417438, 75.054509632), (74, 73.429509632), (76.814582562, 75.054509632), (76.814582562, 78.304509632), align=None)
        Polygon((6, 73.429509632), (8.814582562, 75.054509632), (8.814582562, 78.304509632), (6, 79.929509632), (3.185417438, 78.304509632), (3.185417438, 75.054509632), align=None)
    extrude(amount=-CUT_EXTRUDE15_DEPTH, mode=Mode.SUBTRACT)

    # Sketch29 → Cut-Extrude16 (cut)
    with BuildSketch(Plane.XZ.offset(29.001751313)):
        Polygon((7.185417438, 17.695490368), (10, 16.070490368), (12.814582562, 17.695490368), (12.814582562, 20.945490368), (10, 22.570490368), (7.185417438, 20.945490368), align=None)
    extrude(amount=-CUT_EXTRUDE16_DEPTH, mode=Mode.SUBTRACT)

    # Sketch30 → Boss-Extrude8 (add)
    with BuildSketch(Plane(origin=(0, -26.001751313, 0), x_dir=(1, 0, 0), z_dir=(0, 1, 0))):
        Polygon((77, -24.320490368), (63, -24.320490368), (60.2, -12.320490368), (77, -12.320490368), align=None)
    extrude(amount=BOSS_EXTRUDE8_DEPTH)

    # Sketch31 → Cut-Extrude17 (cut, through all)
    with BuildSketch(Plane(origin=(0, -6.001751313, 0), x_dir=(1, 0, 0), z_dir=(0, 1, 0))):
        with Locations(Location((72, -21.320490368, 0), (0, 0, 270))):
            Circle(SKETCH31_R)
    extrude(amount=-CUT_EXTRUDE17_DEPTH, mode=Mode.SUBTRACT)

    # Sketch32 → Cut-Extrude18 (cut)
    with BuildSketch(Plane.XZ.offset(29.001751313)):
        Polygon((72, 24.570490368), (69.185417438, 22.945490368), (69.185417438, 19.695490368), (72, 18.070490368), (74.814582562, 19.695490368), (74.814582562, 22.945490368), align=None)
    extrude(amount=-CUT_EXTRUDE18_DEPTH, mode=Mode.SUBTRACT)

    # Sketch33 → Cut-Extrude19 (cut, up to next)
    with BuildSketch(Plane(origin=(0, -2.001751313, 0), x_dir=(1, 0, 0), z_dir=(0, 1, 0)), mode=Mode.PRIVATE) as cut_extrude19_sk1:
        with Locations((72, 43.179509632)):
            Rectangle(SKETCH33_W, SKETCH33_H)
    cut_extrude19_tool1 = extrude(cut_extrude19_sk1.sketch, amount=-CUT_EXTRUDE19_REACH, mode=Mode.PRIVATE) & part.part
    add(cut_extrude19_tool1.solids().sort_by_distance((72, -2.001751, -43.17951))[0], mode=Mode.SUBTRACT)

    # Sketch34 → Cut-Extrude20 (cut, through all)
    with BuildSketch(Plane(origin=(0, 20.998248687, 0), x_dir=(1, 0, 0), z_dir=(0, 1, 0))):
        with Locations(Location((40, -17.320490368, 0), (0, 0, 270))):
            Circle(SKETCH34_R)
    extrude(amount=-CUT_EXTRUDE20_DEPTH, mode=Mode.SUBTRACT)

    # Sketch36 → Cut-Extrude22 (cut)
    with BuildSketch(Plane.XZ.offset(29.001751313)):
        Polygon((38.375, 20.13507293), (36.75, 17.320490368), (38.375, 14.505907805), (41.625, 14.505907805), (43.25, 17.320490368), (41.625, 20.13507293), align=None)
    extrude(amount=-CUT_EXTRUDE22_DEPTH, mode=Mode.SUBTRACT)

    # Sketch37 → Cut-Extrude23 (cut, up to next)
    with BuildSketch(Plane(origin=(80, 0, 0), x_dir=(0, 0, -1), z_dir=(1, 0, 0)), mode=Mode.PRIVATE) as cut_extrude23_sk1:
        with Locations((-3.320490368, -16.511383538)):
            Circle(SKETCH37_R)
    cut_extrude23_tool1 = extrude(cut_extrude23_sk1.sketch, amount=-CUT_EXTRUDE23_REACH, mode=Mode.PRIVATE) & part.part
    add(cut_extrude23_tool1.solids().sort_by_distance((80, -16.511384, 3.32049))[0], mode=Mode.SUBTRACT)

    # Sketch38 → Boss-Extrude9 (add)
    with BuildSketch(Plane.ZY.offset(-77)):
        with Locations((3.320490368, -16.511383538)):
            Rectangle(SKETCH38_W, SKETCH38_H)
        with Locations(Location((3.320490368, -16.511383538, 0), (0, 0, 180))):
            Circle(SKETCH38_R, mode=Mode.SUBTRACT)
    extrude(amount=BOSS_EXTRUDE9_DEPTH)

    # Sketch40 → Cut-Extrude24 (cut, up to next)
    with BuildSketch(Plane(origin=(3, 0, 0), x_dir=(0, 0, -1), z_dir=(1, 0, 0)), mode=Mode.PRIVATE) as cut_extrude24_sk1:
        with Locations((26.679509632, -30.511383538)):
            Circle(SKETCH40_R)
    cut_extrude24_tool1 = extrude(cut_extrude24_sk1.sketch, amount=-CUT_EXTRUDE24_REACH, mode=Mode.PRIVATE) & part.part
    # Sketch40 → Cut-Extrude24 (cut, up to next)
    with BuildSketch(Plane(origin=(3, 0, 0), x_dir=(0, 0, -1), z_dir=(1, 0, 0)), mode=Mode.PRIVATE) as cut_extrude24_sk2:
        with Locations((18.979509632, -30.511383538)):
            Rectangle(SKETCH40_W, SKETCH40_H)
    cut_extrude24_tool2 = extrude(cut_extrude24_sk2.sketch, amount=-CUT_EXTRUDE24_REACH, mode=Mode.PRIVATE) & part.part
    add(cut_extrude24_tool1.solids().sort_by_distance((3, -30.511384, -26.67951))[0], mode=Mode.SUBTRACT)
    add(cut_extrude24_tool2.solids().sort_by_distance((3, -30.511384, -18.97951))[0], mode=Mode.SUBTRACT)

    # Sketch41 → Cut-Extrude25 (cut, two sides)
    with BuildSketch(Plane.ZY.offset(-77)) as cut_extrude25_sk:
        with Locations((-64.162210742, 15.998248687)):
            Circle(SKETCH41_R)
        with Locations((-64.162210742, 5.998248687)):
            Circle(SKETCH41_R)
    extrude(amount=CUT_EXTRUDE25_DEPTH, mode=Mode.SUBTRACT)
    extrude(cut_extrude25_sk.sketch, amount=-CUT_EXTRUDE25_DEPTH_BACK, mode=Mode.SUBTRACT)

    # Sketch43 → Cut-Extrude26 (cut)
    with BuildSketch(Plane.XY.offset(-79.679509632)):
        with Locations((40, 13.033248687)):
            Rectangle(SKETCH43_W, SKETCH43_H)
    extrude(amount=-CUT_EXTRUDE26_DEPTH, mode=Mode.SUBTRACT)

    # Chamfer1
    chamfer1_edges = [part.edges().sort_by_distance(p)[0] for p in [
        (40, 2.334161996, -63.679509632),
    ]]
    chamfer(chamfer1_edges, length=CHAMFER1_SIZE)

    # Sketch44 → Cut-Extrude27 (cut, through all)
    with BuildSketch(Plane.XY.offset(-79.679509632)):
        with Locations((65, 12.468248687)):
            Circle(SKETCH44_R)
        with Locations((15, 12.468248687)):
            Circle(SKETCH44_R)
    extrude(amount=-CUT_EXTRUDE27_DEPTH, mode=Mode.SUBTRACT)


solid = part.part
